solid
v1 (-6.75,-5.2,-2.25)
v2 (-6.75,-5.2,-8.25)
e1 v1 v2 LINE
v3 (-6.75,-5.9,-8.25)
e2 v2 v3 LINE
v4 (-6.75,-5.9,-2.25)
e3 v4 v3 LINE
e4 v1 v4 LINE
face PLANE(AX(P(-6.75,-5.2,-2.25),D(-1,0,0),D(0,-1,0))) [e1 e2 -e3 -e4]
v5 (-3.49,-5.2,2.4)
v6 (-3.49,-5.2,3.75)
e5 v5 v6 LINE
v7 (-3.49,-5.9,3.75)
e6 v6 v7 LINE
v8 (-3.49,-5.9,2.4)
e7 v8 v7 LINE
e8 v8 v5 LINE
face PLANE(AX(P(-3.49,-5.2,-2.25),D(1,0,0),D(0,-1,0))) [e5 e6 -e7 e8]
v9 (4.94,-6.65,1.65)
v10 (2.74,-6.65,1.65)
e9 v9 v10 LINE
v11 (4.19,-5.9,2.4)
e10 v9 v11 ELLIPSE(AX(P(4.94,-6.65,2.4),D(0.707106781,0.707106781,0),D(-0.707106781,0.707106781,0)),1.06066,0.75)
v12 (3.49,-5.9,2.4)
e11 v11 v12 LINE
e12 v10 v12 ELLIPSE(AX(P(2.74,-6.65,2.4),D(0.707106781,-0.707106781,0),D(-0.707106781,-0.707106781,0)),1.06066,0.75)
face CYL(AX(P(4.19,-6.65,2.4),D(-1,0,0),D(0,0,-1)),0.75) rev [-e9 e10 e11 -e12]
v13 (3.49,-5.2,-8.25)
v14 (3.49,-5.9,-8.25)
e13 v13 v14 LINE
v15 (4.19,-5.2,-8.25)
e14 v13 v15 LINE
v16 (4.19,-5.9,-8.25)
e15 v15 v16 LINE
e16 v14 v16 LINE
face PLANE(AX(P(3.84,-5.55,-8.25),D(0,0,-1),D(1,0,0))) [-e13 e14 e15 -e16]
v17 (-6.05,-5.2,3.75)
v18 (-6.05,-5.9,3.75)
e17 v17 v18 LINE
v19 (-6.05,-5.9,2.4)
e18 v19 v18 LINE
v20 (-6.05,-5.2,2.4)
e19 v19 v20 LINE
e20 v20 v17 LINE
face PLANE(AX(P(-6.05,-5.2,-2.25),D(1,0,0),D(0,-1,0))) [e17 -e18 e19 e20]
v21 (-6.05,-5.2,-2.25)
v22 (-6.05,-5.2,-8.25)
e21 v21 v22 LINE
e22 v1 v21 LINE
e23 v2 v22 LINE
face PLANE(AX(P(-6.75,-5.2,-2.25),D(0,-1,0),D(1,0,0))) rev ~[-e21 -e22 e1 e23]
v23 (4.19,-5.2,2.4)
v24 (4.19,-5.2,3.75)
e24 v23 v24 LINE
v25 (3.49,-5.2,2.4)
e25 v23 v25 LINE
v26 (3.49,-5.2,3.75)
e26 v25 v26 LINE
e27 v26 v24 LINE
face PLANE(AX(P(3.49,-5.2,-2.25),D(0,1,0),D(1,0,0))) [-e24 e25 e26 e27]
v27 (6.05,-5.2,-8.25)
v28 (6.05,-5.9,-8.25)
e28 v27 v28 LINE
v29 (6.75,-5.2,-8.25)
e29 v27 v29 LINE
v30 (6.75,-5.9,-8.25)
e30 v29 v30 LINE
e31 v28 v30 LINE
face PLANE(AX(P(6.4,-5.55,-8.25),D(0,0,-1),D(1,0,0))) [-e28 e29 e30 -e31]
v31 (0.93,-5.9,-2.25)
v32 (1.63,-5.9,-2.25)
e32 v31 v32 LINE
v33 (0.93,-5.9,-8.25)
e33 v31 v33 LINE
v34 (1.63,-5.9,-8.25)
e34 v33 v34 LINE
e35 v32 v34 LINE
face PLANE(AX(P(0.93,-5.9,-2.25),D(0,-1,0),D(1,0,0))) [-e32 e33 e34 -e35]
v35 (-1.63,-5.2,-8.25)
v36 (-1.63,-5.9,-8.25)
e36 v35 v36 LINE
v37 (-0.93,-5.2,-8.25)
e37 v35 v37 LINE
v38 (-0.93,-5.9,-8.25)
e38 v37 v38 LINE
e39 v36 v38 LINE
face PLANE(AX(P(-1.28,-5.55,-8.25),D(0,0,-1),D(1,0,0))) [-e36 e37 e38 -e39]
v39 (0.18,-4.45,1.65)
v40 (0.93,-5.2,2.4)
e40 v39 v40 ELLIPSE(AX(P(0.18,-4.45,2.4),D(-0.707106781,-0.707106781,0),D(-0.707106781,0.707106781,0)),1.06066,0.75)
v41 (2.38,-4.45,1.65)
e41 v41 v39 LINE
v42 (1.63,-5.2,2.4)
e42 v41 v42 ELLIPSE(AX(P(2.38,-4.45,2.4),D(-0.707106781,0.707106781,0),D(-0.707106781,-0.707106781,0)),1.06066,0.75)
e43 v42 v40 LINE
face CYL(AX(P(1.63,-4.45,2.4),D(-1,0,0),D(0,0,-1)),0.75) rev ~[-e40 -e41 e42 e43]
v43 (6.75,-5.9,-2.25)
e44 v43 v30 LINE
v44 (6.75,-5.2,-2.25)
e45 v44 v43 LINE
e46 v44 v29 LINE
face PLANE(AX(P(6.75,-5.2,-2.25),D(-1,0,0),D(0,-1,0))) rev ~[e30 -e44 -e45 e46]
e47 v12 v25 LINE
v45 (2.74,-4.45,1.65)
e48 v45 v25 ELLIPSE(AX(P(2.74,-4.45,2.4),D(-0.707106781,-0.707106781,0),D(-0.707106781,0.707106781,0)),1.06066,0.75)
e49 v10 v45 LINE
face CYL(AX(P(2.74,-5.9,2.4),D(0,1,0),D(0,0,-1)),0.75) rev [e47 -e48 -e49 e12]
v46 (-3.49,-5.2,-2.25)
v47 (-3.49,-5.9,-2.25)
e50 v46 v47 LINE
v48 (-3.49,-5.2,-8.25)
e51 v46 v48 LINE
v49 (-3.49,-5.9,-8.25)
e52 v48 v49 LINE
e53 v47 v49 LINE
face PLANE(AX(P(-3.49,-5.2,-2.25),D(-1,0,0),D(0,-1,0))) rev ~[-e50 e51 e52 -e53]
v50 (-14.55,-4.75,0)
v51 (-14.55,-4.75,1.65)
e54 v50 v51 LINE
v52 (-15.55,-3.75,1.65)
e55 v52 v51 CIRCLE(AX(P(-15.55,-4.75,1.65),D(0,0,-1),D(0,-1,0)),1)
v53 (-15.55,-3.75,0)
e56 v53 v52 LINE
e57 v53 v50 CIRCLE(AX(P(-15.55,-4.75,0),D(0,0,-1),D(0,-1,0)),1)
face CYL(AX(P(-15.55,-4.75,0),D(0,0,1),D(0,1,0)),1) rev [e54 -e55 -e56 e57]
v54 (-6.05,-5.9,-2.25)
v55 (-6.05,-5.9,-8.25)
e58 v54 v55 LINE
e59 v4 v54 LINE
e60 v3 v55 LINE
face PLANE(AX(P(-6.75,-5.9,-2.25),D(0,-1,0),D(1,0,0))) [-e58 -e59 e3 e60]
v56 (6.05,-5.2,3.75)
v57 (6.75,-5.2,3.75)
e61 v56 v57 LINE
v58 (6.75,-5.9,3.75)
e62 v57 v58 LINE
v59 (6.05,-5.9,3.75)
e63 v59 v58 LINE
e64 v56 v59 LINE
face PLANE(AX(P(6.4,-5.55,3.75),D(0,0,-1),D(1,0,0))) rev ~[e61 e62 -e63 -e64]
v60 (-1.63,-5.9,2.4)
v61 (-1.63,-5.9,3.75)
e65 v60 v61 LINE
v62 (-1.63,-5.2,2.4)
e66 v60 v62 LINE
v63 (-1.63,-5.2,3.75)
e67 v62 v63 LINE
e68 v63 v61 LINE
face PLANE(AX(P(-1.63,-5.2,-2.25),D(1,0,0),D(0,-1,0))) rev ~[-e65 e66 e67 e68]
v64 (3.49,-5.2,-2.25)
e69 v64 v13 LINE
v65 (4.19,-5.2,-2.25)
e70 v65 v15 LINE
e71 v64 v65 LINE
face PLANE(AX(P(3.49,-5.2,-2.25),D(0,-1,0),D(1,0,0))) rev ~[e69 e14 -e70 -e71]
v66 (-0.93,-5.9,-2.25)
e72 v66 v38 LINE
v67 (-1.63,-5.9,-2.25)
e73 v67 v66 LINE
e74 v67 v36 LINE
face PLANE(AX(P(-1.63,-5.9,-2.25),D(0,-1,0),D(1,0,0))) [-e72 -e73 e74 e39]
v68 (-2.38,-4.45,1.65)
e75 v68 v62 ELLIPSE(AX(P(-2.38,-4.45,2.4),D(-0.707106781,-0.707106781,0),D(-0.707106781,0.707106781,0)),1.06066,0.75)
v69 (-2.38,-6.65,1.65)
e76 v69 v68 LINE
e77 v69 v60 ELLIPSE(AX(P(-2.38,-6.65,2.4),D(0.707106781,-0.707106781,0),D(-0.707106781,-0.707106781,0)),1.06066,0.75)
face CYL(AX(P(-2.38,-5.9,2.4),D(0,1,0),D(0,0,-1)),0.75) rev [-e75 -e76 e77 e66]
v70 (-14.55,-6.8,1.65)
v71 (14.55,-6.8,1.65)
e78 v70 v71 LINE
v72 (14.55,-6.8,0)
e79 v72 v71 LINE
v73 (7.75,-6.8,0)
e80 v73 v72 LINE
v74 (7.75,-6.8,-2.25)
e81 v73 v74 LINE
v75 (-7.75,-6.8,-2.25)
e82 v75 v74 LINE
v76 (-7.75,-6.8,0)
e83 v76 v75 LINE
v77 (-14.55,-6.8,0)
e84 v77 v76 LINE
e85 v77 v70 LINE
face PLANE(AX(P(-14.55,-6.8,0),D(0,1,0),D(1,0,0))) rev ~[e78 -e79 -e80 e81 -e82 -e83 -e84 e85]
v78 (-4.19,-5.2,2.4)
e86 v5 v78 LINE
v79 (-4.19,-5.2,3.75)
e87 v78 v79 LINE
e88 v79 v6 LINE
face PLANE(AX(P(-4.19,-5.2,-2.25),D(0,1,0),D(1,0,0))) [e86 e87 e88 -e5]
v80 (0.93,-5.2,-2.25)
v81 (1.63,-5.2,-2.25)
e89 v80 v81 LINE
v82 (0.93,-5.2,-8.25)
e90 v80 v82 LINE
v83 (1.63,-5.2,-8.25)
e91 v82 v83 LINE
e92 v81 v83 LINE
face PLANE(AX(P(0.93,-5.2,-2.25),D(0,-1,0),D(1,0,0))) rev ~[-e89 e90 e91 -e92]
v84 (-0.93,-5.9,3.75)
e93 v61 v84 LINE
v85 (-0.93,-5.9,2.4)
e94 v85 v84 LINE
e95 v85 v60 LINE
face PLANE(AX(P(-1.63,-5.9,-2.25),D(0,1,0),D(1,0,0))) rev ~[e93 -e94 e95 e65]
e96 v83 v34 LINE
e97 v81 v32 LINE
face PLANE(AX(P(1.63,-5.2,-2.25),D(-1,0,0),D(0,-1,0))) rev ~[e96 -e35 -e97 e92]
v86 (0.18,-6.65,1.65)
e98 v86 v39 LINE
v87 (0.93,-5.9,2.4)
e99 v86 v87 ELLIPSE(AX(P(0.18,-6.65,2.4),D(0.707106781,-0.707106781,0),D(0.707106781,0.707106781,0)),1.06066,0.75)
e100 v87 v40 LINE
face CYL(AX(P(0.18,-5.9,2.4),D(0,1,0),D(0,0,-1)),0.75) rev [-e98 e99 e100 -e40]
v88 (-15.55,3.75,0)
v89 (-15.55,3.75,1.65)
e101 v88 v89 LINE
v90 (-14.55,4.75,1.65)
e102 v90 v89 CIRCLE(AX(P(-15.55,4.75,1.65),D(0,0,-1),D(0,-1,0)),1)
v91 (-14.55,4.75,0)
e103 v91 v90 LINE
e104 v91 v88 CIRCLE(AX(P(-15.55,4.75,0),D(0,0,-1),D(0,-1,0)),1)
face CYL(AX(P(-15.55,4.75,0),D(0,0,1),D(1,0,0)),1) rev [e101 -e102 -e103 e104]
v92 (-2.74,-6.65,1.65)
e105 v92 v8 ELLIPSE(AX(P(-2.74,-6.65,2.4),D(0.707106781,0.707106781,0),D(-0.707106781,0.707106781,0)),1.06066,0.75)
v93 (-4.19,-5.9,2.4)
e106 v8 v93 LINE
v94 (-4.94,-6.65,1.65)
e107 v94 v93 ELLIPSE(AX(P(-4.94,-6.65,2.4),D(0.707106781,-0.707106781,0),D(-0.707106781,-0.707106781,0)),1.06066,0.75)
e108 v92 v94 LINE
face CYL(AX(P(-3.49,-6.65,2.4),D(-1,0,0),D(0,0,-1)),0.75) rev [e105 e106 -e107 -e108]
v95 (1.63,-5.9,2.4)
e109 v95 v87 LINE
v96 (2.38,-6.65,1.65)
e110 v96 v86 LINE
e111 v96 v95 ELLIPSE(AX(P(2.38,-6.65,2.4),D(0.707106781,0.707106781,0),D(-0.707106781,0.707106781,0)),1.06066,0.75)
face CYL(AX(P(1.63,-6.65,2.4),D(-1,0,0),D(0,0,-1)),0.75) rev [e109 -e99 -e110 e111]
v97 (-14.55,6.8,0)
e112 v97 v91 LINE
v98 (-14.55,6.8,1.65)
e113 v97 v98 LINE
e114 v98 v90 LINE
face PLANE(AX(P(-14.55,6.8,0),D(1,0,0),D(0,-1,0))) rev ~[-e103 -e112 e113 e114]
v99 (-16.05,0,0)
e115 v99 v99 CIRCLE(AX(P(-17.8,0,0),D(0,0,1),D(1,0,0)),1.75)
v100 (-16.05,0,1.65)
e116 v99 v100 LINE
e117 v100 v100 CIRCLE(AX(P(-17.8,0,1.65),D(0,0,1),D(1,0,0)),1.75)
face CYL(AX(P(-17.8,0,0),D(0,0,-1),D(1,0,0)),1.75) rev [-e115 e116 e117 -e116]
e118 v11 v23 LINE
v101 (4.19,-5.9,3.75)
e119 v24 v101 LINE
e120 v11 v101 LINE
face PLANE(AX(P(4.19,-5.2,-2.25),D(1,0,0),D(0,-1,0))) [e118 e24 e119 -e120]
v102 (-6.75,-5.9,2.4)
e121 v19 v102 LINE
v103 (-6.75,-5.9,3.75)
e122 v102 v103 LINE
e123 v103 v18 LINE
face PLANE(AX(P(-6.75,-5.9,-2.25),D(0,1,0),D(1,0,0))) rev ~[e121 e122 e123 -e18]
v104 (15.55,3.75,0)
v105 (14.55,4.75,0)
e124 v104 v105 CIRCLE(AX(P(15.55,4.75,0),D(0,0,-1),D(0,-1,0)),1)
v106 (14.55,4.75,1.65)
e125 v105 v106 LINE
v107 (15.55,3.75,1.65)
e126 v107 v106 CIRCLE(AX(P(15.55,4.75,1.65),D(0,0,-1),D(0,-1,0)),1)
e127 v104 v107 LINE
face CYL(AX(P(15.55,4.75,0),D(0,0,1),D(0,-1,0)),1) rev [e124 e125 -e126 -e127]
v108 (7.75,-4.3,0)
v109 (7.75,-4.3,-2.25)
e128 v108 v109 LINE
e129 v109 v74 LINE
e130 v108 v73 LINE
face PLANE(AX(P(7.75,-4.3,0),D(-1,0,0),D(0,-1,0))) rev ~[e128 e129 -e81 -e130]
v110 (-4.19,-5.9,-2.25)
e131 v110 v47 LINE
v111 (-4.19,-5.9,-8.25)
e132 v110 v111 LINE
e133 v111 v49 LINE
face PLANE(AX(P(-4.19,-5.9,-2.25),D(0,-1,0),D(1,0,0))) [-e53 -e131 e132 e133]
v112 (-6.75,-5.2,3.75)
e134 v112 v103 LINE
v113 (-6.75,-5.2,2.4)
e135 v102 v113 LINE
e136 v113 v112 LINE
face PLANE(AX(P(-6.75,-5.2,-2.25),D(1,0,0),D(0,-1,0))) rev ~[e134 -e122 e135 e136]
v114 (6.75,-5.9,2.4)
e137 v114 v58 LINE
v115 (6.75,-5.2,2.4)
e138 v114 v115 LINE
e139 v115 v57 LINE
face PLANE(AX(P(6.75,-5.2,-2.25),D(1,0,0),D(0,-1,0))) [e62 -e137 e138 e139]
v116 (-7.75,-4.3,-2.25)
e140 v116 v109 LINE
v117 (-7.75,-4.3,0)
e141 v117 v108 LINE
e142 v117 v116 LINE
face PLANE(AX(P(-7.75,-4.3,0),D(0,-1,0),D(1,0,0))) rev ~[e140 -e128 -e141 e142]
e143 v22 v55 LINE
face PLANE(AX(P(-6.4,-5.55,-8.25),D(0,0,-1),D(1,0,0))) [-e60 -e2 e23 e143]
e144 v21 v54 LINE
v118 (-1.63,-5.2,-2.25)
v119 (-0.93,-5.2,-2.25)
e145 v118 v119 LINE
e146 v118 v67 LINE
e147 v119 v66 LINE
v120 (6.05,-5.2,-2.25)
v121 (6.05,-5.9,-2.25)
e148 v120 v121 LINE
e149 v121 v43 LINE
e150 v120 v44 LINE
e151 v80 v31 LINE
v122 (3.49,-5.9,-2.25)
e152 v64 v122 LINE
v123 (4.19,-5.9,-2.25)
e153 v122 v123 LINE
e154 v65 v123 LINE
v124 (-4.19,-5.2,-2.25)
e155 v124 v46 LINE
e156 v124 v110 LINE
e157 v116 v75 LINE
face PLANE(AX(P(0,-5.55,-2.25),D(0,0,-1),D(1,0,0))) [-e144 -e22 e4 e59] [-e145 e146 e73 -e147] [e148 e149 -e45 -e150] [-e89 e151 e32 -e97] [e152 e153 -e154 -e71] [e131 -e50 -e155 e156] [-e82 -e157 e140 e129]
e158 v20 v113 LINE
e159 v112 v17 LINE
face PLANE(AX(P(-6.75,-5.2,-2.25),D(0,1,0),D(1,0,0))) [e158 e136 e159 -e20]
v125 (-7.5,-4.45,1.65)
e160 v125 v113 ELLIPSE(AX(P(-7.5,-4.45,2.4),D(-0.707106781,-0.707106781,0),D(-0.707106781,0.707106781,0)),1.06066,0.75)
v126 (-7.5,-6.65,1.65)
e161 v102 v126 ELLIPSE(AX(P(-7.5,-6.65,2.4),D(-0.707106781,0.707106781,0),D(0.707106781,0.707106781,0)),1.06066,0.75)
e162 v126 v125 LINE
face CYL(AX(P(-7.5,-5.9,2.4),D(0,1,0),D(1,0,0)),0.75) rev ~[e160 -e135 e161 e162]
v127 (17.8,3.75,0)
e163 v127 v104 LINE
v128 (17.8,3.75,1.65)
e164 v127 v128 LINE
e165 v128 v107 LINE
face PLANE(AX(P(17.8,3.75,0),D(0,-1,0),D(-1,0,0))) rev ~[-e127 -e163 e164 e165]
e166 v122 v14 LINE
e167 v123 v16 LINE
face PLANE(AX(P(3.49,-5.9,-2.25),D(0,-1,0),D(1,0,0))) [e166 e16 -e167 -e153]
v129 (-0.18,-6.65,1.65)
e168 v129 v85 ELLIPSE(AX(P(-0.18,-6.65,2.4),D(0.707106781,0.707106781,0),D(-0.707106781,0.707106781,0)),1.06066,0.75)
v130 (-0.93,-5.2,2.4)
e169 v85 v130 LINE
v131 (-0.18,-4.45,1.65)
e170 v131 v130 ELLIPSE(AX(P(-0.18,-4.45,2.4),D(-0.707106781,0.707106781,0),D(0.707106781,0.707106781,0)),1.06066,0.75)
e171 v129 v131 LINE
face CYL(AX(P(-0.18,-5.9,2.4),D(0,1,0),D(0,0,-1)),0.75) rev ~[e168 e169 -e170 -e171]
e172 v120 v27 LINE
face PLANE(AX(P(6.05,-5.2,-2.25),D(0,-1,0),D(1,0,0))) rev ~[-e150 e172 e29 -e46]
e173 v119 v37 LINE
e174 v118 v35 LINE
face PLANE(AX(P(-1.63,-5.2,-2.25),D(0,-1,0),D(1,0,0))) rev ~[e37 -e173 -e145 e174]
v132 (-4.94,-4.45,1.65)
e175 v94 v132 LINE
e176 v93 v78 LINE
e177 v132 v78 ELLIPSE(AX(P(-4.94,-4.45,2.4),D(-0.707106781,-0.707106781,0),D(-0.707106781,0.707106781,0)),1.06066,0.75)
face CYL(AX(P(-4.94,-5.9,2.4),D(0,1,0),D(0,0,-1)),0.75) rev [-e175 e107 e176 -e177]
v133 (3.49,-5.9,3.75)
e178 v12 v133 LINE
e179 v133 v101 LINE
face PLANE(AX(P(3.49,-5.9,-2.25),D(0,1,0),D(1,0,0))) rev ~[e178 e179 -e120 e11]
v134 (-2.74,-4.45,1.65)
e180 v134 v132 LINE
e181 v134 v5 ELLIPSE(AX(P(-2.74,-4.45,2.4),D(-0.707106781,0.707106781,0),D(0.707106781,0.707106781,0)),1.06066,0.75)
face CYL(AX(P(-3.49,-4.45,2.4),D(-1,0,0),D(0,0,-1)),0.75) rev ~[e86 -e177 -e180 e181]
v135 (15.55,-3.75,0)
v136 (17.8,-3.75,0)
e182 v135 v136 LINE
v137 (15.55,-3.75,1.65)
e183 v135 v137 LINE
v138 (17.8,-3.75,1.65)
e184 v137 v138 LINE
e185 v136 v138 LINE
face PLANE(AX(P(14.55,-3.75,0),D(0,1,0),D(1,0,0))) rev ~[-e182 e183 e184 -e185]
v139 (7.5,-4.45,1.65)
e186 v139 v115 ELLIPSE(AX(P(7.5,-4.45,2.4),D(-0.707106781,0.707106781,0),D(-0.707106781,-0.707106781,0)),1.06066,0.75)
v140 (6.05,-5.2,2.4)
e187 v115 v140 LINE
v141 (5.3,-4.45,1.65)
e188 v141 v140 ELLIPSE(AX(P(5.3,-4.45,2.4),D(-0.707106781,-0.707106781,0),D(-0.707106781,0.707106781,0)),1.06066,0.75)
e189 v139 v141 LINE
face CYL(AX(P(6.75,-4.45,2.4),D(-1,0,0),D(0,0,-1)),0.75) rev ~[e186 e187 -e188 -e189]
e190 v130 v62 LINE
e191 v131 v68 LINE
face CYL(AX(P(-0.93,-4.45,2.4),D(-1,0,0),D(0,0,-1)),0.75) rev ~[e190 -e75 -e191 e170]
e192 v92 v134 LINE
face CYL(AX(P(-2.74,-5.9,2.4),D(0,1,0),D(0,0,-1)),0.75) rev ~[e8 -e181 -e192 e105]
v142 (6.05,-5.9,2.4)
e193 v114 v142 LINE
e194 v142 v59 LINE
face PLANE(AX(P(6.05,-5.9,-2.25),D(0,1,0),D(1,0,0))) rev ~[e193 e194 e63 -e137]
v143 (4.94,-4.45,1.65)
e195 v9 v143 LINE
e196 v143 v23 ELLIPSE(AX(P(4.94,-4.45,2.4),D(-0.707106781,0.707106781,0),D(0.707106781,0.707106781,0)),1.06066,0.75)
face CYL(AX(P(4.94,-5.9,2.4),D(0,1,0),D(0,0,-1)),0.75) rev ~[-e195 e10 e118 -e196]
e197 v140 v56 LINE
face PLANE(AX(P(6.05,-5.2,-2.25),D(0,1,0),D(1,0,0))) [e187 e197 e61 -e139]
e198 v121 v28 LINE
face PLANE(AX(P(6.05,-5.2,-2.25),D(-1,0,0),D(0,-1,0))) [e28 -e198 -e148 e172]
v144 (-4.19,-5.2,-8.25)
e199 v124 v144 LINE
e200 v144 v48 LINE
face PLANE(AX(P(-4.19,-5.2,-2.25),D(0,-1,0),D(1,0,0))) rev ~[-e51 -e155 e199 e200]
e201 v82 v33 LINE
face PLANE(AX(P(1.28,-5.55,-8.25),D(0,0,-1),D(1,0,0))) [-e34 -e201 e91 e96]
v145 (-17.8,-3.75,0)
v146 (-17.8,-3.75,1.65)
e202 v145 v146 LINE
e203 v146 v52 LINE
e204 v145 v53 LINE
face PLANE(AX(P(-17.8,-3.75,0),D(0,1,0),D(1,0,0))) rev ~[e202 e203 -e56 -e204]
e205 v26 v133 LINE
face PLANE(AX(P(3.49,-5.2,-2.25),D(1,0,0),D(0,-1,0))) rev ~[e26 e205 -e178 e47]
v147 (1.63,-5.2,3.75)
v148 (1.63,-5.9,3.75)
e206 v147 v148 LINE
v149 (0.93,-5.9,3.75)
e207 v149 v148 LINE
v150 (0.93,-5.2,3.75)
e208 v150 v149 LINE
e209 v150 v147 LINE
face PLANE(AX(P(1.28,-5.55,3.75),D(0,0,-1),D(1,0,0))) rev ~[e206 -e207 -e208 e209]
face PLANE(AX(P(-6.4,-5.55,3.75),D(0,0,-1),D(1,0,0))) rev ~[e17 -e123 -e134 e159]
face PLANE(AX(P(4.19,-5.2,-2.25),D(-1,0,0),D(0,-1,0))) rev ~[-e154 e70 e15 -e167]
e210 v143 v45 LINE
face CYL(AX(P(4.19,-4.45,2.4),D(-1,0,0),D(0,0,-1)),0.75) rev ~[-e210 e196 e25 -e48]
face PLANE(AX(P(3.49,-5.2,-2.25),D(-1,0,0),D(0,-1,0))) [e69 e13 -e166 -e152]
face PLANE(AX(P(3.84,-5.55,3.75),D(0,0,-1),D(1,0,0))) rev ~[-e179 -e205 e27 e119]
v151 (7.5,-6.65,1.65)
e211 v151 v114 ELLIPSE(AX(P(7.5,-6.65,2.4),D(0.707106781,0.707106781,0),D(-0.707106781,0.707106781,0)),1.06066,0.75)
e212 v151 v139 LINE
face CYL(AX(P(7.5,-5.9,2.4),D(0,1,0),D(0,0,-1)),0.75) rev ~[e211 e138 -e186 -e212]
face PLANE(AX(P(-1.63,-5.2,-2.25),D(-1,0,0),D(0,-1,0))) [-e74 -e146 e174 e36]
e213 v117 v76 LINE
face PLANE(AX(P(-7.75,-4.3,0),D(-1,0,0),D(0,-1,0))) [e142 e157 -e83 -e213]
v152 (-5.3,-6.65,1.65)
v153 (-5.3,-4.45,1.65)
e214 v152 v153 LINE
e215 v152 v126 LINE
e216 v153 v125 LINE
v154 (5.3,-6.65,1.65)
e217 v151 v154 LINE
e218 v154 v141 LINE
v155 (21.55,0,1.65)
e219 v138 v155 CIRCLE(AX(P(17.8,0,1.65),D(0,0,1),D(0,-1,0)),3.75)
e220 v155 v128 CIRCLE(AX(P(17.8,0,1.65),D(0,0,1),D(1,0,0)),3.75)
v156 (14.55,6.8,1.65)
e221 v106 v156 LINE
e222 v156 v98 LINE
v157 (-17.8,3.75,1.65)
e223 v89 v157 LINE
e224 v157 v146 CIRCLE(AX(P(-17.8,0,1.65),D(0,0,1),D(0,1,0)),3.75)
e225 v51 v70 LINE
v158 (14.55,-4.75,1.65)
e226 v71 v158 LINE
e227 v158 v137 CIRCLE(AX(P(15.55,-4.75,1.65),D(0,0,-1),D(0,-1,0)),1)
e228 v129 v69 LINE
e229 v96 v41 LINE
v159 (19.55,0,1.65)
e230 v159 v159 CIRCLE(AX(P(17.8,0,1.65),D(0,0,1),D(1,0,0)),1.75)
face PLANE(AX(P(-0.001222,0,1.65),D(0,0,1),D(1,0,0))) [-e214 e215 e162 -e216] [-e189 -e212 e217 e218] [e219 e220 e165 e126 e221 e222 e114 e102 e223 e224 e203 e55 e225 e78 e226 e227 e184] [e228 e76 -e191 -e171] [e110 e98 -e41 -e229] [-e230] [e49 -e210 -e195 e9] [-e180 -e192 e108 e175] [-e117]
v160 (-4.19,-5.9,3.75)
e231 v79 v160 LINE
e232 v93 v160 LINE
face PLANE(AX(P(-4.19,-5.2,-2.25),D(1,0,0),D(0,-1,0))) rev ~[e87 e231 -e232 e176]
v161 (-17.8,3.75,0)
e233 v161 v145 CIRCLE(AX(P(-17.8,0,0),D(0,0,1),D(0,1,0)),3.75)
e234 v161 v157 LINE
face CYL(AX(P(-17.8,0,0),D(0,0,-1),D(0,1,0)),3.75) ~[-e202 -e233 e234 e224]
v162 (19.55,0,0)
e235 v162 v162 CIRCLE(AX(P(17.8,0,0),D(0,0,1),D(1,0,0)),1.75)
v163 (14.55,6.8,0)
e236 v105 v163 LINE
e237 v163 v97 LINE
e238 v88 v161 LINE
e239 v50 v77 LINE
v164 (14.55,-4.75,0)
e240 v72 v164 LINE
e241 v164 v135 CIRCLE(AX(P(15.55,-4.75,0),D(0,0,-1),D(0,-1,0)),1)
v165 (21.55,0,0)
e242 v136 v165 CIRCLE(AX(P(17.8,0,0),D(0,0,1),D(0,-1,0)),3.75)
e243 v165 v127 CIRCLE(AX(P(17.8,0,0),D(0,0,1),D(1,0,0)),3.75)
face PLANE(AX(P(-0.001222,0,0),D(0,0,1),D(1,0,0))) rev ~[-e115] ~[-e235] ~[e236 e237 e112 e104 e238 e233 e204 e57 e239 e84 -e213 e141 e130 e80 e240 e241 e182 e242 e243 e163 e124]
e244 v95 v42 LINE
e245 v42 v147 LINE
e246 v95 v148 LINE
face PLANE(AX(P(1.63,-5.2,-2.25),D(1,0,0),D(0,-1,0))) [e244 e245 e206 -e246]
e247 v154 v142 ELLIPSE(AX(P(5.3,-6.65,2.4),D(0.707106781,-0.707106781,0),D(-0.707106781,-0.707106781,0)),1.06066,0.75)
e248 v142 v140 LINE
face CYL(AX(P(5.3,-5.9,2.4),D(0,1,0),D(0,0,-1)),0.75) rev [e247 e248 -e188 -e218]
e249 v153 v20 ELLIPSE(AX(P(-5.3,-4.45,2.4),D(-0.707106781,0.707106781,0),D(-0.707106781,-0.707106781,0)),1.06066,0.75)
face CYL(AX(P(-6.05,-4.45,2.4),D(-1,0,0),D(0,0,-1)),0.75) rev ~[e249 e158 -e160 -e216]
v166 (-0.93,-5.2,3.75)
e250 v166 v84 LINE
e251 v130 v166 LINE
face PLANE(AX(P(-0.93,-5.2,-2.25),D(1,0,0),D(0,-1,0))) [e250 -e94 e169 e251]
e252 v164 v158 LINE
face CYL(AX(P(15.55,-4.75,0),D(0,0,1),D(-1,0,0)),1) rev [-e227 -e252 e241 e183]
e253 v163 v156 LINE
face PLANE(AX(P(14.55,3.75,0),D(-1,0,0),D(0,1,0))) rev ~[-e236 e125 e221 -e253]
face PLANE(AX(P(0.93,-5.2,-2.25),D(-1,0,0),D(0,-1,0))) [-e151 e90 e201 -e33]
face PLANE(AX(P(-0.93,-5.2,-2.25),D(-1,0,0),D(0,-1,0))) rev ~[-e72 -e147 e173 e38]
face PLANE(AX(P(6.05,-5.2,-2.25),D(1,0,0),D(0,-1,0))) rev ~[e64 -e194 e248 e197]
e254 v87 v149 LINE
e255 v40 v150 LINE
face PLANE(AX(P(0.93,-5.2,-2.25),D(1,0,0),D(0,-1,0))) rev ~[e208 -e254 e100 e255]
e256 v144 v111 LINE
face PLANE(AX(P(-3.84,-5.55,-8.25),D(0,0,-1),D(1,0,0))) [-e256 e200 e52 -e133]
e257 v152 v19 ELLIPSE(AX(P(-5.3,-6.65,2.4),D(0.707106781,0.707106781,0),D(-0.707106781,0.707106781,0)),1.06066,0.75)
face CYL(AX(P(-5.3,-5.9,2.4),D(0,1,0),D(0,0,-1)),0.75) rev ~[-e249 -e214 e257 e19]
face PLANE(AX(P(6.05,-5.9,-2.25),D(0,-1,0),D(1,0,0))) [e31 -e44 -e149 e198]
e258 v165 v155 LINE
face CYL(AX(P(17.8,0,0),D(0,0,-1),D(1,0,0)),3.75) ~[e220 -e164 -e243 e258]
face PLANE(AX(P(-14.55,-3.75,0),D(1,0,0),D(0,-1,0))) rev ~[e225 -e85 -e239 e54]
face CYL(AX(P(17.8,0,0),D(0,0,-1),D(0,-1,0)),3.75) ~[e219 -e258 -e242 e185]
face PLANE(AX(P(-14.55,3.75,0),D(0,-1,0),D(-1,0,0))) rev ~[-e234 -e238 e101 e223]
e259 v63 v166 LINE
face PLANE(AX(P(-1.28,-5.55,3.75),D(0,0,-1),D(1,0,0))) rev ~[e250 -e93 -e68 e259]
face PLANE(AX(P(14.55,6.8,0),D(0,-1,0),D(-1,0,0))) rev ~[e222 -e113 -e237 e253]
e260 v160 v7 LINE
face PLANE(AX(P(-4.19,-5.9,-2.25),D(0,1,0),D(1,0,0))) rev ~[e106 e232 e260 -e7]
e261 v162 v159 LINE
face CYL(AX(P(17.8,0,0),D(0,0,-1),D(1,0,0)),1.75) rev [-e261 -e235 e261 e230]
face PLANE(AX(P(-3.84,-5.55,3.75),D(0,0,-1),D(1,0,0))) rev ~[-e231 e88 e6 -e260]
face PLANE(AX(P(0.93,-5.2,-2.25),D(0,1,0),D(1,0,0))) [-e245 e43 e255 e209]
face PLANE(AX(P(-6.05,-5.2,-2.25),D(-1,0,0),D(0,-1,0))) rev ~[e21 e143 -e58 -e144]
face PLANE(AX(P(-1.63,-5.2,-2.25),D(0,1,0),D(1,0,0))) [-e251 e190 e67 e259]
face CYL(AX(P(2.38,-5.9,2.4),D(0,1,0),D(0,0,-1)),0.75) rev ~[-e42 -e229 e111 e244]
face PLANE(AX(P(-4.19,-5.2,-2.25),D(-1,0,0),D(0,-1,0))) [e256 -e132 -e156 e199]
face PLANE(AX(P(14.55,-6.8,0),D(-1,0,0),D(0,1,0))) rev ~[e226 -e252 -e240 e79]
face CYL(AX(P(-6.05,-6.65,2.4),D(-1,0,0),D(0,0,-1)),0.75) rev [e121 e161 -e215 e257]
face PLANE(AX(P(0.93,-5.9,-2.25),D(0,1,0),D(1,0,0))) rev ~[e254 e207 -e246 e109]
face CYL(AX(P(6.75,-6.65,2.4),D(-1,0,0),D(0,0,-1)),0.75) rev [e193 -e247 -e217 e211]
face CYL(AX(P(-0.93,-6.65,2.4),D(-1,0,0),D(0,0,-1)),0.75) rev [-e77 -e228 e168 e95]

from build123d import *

# Parameters (mm, degrees)
F0_R          = 1.75
F1_DEPTH      = 1.65
F2_R          = 1
F3_W          = 15.5
F3_H          = 2.5
F4_DEPTH      = 2.25
F5_W          = 0.7
F5_H          = 0.7
F6_DEPTH      = 6
F6_DEPTH_BACK = 6
F7_R          = 0.75


with BuildPart() as f1:
    # F0 (on Top) → F1 (new body)
    with BuildSketch(Plane.XY):
        with BuildLine():
            Line((14.55, 6.8), (-14.55, 6.8))
            Line((-14.55, 6.8), (-14.55, 3.75))
            Line((-14.55, 3.75), (-14.55, 1.8708286934))
            ThreePointArc((-14.55, 1.8708286934), (-14.1771558135, 0.9682458366), (-14.05, 0))
            ThreePointArc((-14.05, 0), (-14.1771558135, -0.9682458366), (-14.55, -1.8708286934))
            Line((-14.55, -1.8708286934), (-14.55, -3.75))
            Line((-14.55, -3.75), (-14.55, -6.8))
            Line((-14.55, -6.8), (14.55, -6.8))
            Line((14.55, -6.8), (14.55, -3.75))
            Line((14.55, -3.75), (14.55, -1.8708286934))
            ThreePointArc((14.55, -1.8708286934), (14.05, 0), (14.55, 1.8708286934))
            Line((14.55, 1.8708286934), (14.55, 3.75))
            Line((14.55, 3.75), (14.55, 6.8))
        make_face()
        with BuildLine():
            Line((-14.55, 1.8708286934), (-14.55, 3.75))
            Line((-14.55, 3.75), (-17.8, 3.75))
            ThreePointArc((-17.8, 3.75), (-15.9229155054, 3.2463908884), (-14.55, 1.8708286934))
        make_face()
        with BuildLine():
            Line((17.8, 3.75), (14.55, 3.75))
            Line((14.55, 3.75), (14.55, 1.8708286934))
            ThreePointArc((14.55, 1.8708286934), (15.9229155054, 3.2463908884), (17.8, 3.75))
        make_face()
        with BuildLine():
            Line((-14.55, -1.8708286934), (-14.55, 1.8708286934))
            ThreePointArc((-14.55, 1.8708286934), (-15.9229155054, 3.2463908884), (-17.8, 3.75))
            ThreePointArc((-17.8, 3.75), (-21.55, 0), (-17.8, -3.75))
            ThreePointArc((-17.8, -3.75), (-15.9229155054, -3.2463908884), (-14.55, -1.8708286934))
        make_face()
        with Locations((-17.8, 0)):
            Circle(F0_R, mode=Mode.SUBTRACT)
        with BuildLine():
            ThreePointArc((17.8, 3.75), (15.9229155054, 3.2463908884), (14.55, 1.8708286934))
            Line((14.55, 1.8708286934), (14.55, -1.8708286934))
            ThreePointArc((14.55, -1.8708286934), (15.9229155054, -3.2463908884), (17.8, -3.75))
            ThreePointArc((17.8, -3.75), (20.4516504294, -2.6516504294), (21.55, 0))
            ThreePointArc((21.55, 0), (20.4516504294, 2.6516504294), (17.8, 3.75))
        make_face()
        with Locations((17.8, 0)):
            Circle(F0_R, mode=Mode.SUBTRACT)
        with BuildLine():
            Line((-14.55, -3.75), (-14.55, -1.8708286934))
            ThreePointArc((-14.55, -1.8708286934), (-15.9229155054, -3.2463908884), (-17.8, -3.75))
            Line((-17.8, -3.75), (-14.55, -3.75))
        make_face()
        with BuildLine():
            ThreePointArc((17.8, -3.75), (15.9229155054, -3.2463908884), (14.55, -1.8708286934))
            Line((14.55, -1.8708286934), (14.55, -3.75))
            Line((14.55, -3.75), (17.8, -3.75))
        make_face()
        with BuildLine():
            ThreePointArc((-14.05, 0), (-14.1771558135, 0.9682458366), (-14.55, 1.8708286934))
            Line((-14.55, 1.8708286934), (-14.55, -1.8708286934))
            ThreePointArc((-14.55, -1.8708286934), (-14.1771558135, -0.9682458366), (-14.05, 0))
        make_face()
        with BuildLine():
            Line((14.55, -1.8708286934), (14.55, 1.8708286934))
            ThreePointArc((14.55, 1.8708286934), (14.05, 0), (14.55, -1.8708286934))
        make_face()
    extrude(amount=F1_DEPTH)

    # F2
    f2_edges = [f1.edges().sort_by_distance(p)[0] for p in [
        (14.55, 3.75, 0.825),
        (14.55, -3.75, 0.825),
        (-14.55, -3.75, 0.825),
        (-14.55, 3.75, 0.825),
    ]]
    fillet(f2_edges, radius=F2_R)

    # F3 (on face) → F4 (join)
    with BuildSketch(Plane(origin=(0, 0, 0), x_dir=(1, 0, 0), z_dir=(0, 0, -1))):
        with Locations((0, 5.55)):
            Rectangle(F3_W, F3_H)
    extrude(amount=F4_DEPTH)

    # F5 (on face) → F6 (join, two sides)
    with BuildSketch(Plane(origin=(0, 0, -2.25), x_dir=(1, 0, 0), z_dir=(0, 0, -1))) as f6_sk:
        with Locations((-6.4, 5.55)):
            Rectangle(F5_W, F5_H)
        with Locations((6.4, 5.55)):
            Rectangle(F5_W, F5_H)
        with Locations((-3.84, 5.55)):
            Rectangle(F5_W, F5_H)
        with Locations((-1.28, 5.55)):
            Rectangle(F5_W, F5_H)
        with Locations((1.28, 5.55)):
            Rectangle(F5_W, F5_H)
        with Locations((3.84, 5.55)):
            Rectangle(F5_W, F5_H)
    extrude(amount=F6_DEPTH)
    extrude(f6_sk.sketch, amount=-F6_DEPTH_BACK)

    # F7
    f7_edges = [f1.edges().sort_by_distance(p)[0] for p in [
        (6.4, -5.2, 1.65),
        (6.75, -5.55, 1.65),
        (6.4, -5.9, 1.65),
        (6.05, -5.55, 1.65),
        (4.19, -5.55, 1.65),
        (3.84, -5.9, 1.65),
        (3.49, -5.55, 1.65),
        (3.84, -5.2, 1.65),
        (1.28, -5.2, 1.65),
        (0.93, -5.55, 1.65),
        (1.28, -5.9, 1.65),
        (1.63, -5.55, 1.65),
        (-1.28, -5.9, 1.65),
        (-1.63, -5.55, 1.65),
        (-0.93, -5.55, 1.65),
        (-1.28, -5.2, 1.65),
        (-3.84, -5.9, 1.65),
        (-4.19, -5.55, 1.65),
        (-3.49, -5.55, 1.65),
        (-3.84, -5.2, 1.65),
        (-6.4, -5.2, 1.65),
        (-6.75, -5.55, 1.65),
        (-6.4, -5.9, 1.65),
        (-6.05, -5.55, 1.65),
    ]]
    fillet(f7_edges, radius=F7_R)


solid = f1.part
